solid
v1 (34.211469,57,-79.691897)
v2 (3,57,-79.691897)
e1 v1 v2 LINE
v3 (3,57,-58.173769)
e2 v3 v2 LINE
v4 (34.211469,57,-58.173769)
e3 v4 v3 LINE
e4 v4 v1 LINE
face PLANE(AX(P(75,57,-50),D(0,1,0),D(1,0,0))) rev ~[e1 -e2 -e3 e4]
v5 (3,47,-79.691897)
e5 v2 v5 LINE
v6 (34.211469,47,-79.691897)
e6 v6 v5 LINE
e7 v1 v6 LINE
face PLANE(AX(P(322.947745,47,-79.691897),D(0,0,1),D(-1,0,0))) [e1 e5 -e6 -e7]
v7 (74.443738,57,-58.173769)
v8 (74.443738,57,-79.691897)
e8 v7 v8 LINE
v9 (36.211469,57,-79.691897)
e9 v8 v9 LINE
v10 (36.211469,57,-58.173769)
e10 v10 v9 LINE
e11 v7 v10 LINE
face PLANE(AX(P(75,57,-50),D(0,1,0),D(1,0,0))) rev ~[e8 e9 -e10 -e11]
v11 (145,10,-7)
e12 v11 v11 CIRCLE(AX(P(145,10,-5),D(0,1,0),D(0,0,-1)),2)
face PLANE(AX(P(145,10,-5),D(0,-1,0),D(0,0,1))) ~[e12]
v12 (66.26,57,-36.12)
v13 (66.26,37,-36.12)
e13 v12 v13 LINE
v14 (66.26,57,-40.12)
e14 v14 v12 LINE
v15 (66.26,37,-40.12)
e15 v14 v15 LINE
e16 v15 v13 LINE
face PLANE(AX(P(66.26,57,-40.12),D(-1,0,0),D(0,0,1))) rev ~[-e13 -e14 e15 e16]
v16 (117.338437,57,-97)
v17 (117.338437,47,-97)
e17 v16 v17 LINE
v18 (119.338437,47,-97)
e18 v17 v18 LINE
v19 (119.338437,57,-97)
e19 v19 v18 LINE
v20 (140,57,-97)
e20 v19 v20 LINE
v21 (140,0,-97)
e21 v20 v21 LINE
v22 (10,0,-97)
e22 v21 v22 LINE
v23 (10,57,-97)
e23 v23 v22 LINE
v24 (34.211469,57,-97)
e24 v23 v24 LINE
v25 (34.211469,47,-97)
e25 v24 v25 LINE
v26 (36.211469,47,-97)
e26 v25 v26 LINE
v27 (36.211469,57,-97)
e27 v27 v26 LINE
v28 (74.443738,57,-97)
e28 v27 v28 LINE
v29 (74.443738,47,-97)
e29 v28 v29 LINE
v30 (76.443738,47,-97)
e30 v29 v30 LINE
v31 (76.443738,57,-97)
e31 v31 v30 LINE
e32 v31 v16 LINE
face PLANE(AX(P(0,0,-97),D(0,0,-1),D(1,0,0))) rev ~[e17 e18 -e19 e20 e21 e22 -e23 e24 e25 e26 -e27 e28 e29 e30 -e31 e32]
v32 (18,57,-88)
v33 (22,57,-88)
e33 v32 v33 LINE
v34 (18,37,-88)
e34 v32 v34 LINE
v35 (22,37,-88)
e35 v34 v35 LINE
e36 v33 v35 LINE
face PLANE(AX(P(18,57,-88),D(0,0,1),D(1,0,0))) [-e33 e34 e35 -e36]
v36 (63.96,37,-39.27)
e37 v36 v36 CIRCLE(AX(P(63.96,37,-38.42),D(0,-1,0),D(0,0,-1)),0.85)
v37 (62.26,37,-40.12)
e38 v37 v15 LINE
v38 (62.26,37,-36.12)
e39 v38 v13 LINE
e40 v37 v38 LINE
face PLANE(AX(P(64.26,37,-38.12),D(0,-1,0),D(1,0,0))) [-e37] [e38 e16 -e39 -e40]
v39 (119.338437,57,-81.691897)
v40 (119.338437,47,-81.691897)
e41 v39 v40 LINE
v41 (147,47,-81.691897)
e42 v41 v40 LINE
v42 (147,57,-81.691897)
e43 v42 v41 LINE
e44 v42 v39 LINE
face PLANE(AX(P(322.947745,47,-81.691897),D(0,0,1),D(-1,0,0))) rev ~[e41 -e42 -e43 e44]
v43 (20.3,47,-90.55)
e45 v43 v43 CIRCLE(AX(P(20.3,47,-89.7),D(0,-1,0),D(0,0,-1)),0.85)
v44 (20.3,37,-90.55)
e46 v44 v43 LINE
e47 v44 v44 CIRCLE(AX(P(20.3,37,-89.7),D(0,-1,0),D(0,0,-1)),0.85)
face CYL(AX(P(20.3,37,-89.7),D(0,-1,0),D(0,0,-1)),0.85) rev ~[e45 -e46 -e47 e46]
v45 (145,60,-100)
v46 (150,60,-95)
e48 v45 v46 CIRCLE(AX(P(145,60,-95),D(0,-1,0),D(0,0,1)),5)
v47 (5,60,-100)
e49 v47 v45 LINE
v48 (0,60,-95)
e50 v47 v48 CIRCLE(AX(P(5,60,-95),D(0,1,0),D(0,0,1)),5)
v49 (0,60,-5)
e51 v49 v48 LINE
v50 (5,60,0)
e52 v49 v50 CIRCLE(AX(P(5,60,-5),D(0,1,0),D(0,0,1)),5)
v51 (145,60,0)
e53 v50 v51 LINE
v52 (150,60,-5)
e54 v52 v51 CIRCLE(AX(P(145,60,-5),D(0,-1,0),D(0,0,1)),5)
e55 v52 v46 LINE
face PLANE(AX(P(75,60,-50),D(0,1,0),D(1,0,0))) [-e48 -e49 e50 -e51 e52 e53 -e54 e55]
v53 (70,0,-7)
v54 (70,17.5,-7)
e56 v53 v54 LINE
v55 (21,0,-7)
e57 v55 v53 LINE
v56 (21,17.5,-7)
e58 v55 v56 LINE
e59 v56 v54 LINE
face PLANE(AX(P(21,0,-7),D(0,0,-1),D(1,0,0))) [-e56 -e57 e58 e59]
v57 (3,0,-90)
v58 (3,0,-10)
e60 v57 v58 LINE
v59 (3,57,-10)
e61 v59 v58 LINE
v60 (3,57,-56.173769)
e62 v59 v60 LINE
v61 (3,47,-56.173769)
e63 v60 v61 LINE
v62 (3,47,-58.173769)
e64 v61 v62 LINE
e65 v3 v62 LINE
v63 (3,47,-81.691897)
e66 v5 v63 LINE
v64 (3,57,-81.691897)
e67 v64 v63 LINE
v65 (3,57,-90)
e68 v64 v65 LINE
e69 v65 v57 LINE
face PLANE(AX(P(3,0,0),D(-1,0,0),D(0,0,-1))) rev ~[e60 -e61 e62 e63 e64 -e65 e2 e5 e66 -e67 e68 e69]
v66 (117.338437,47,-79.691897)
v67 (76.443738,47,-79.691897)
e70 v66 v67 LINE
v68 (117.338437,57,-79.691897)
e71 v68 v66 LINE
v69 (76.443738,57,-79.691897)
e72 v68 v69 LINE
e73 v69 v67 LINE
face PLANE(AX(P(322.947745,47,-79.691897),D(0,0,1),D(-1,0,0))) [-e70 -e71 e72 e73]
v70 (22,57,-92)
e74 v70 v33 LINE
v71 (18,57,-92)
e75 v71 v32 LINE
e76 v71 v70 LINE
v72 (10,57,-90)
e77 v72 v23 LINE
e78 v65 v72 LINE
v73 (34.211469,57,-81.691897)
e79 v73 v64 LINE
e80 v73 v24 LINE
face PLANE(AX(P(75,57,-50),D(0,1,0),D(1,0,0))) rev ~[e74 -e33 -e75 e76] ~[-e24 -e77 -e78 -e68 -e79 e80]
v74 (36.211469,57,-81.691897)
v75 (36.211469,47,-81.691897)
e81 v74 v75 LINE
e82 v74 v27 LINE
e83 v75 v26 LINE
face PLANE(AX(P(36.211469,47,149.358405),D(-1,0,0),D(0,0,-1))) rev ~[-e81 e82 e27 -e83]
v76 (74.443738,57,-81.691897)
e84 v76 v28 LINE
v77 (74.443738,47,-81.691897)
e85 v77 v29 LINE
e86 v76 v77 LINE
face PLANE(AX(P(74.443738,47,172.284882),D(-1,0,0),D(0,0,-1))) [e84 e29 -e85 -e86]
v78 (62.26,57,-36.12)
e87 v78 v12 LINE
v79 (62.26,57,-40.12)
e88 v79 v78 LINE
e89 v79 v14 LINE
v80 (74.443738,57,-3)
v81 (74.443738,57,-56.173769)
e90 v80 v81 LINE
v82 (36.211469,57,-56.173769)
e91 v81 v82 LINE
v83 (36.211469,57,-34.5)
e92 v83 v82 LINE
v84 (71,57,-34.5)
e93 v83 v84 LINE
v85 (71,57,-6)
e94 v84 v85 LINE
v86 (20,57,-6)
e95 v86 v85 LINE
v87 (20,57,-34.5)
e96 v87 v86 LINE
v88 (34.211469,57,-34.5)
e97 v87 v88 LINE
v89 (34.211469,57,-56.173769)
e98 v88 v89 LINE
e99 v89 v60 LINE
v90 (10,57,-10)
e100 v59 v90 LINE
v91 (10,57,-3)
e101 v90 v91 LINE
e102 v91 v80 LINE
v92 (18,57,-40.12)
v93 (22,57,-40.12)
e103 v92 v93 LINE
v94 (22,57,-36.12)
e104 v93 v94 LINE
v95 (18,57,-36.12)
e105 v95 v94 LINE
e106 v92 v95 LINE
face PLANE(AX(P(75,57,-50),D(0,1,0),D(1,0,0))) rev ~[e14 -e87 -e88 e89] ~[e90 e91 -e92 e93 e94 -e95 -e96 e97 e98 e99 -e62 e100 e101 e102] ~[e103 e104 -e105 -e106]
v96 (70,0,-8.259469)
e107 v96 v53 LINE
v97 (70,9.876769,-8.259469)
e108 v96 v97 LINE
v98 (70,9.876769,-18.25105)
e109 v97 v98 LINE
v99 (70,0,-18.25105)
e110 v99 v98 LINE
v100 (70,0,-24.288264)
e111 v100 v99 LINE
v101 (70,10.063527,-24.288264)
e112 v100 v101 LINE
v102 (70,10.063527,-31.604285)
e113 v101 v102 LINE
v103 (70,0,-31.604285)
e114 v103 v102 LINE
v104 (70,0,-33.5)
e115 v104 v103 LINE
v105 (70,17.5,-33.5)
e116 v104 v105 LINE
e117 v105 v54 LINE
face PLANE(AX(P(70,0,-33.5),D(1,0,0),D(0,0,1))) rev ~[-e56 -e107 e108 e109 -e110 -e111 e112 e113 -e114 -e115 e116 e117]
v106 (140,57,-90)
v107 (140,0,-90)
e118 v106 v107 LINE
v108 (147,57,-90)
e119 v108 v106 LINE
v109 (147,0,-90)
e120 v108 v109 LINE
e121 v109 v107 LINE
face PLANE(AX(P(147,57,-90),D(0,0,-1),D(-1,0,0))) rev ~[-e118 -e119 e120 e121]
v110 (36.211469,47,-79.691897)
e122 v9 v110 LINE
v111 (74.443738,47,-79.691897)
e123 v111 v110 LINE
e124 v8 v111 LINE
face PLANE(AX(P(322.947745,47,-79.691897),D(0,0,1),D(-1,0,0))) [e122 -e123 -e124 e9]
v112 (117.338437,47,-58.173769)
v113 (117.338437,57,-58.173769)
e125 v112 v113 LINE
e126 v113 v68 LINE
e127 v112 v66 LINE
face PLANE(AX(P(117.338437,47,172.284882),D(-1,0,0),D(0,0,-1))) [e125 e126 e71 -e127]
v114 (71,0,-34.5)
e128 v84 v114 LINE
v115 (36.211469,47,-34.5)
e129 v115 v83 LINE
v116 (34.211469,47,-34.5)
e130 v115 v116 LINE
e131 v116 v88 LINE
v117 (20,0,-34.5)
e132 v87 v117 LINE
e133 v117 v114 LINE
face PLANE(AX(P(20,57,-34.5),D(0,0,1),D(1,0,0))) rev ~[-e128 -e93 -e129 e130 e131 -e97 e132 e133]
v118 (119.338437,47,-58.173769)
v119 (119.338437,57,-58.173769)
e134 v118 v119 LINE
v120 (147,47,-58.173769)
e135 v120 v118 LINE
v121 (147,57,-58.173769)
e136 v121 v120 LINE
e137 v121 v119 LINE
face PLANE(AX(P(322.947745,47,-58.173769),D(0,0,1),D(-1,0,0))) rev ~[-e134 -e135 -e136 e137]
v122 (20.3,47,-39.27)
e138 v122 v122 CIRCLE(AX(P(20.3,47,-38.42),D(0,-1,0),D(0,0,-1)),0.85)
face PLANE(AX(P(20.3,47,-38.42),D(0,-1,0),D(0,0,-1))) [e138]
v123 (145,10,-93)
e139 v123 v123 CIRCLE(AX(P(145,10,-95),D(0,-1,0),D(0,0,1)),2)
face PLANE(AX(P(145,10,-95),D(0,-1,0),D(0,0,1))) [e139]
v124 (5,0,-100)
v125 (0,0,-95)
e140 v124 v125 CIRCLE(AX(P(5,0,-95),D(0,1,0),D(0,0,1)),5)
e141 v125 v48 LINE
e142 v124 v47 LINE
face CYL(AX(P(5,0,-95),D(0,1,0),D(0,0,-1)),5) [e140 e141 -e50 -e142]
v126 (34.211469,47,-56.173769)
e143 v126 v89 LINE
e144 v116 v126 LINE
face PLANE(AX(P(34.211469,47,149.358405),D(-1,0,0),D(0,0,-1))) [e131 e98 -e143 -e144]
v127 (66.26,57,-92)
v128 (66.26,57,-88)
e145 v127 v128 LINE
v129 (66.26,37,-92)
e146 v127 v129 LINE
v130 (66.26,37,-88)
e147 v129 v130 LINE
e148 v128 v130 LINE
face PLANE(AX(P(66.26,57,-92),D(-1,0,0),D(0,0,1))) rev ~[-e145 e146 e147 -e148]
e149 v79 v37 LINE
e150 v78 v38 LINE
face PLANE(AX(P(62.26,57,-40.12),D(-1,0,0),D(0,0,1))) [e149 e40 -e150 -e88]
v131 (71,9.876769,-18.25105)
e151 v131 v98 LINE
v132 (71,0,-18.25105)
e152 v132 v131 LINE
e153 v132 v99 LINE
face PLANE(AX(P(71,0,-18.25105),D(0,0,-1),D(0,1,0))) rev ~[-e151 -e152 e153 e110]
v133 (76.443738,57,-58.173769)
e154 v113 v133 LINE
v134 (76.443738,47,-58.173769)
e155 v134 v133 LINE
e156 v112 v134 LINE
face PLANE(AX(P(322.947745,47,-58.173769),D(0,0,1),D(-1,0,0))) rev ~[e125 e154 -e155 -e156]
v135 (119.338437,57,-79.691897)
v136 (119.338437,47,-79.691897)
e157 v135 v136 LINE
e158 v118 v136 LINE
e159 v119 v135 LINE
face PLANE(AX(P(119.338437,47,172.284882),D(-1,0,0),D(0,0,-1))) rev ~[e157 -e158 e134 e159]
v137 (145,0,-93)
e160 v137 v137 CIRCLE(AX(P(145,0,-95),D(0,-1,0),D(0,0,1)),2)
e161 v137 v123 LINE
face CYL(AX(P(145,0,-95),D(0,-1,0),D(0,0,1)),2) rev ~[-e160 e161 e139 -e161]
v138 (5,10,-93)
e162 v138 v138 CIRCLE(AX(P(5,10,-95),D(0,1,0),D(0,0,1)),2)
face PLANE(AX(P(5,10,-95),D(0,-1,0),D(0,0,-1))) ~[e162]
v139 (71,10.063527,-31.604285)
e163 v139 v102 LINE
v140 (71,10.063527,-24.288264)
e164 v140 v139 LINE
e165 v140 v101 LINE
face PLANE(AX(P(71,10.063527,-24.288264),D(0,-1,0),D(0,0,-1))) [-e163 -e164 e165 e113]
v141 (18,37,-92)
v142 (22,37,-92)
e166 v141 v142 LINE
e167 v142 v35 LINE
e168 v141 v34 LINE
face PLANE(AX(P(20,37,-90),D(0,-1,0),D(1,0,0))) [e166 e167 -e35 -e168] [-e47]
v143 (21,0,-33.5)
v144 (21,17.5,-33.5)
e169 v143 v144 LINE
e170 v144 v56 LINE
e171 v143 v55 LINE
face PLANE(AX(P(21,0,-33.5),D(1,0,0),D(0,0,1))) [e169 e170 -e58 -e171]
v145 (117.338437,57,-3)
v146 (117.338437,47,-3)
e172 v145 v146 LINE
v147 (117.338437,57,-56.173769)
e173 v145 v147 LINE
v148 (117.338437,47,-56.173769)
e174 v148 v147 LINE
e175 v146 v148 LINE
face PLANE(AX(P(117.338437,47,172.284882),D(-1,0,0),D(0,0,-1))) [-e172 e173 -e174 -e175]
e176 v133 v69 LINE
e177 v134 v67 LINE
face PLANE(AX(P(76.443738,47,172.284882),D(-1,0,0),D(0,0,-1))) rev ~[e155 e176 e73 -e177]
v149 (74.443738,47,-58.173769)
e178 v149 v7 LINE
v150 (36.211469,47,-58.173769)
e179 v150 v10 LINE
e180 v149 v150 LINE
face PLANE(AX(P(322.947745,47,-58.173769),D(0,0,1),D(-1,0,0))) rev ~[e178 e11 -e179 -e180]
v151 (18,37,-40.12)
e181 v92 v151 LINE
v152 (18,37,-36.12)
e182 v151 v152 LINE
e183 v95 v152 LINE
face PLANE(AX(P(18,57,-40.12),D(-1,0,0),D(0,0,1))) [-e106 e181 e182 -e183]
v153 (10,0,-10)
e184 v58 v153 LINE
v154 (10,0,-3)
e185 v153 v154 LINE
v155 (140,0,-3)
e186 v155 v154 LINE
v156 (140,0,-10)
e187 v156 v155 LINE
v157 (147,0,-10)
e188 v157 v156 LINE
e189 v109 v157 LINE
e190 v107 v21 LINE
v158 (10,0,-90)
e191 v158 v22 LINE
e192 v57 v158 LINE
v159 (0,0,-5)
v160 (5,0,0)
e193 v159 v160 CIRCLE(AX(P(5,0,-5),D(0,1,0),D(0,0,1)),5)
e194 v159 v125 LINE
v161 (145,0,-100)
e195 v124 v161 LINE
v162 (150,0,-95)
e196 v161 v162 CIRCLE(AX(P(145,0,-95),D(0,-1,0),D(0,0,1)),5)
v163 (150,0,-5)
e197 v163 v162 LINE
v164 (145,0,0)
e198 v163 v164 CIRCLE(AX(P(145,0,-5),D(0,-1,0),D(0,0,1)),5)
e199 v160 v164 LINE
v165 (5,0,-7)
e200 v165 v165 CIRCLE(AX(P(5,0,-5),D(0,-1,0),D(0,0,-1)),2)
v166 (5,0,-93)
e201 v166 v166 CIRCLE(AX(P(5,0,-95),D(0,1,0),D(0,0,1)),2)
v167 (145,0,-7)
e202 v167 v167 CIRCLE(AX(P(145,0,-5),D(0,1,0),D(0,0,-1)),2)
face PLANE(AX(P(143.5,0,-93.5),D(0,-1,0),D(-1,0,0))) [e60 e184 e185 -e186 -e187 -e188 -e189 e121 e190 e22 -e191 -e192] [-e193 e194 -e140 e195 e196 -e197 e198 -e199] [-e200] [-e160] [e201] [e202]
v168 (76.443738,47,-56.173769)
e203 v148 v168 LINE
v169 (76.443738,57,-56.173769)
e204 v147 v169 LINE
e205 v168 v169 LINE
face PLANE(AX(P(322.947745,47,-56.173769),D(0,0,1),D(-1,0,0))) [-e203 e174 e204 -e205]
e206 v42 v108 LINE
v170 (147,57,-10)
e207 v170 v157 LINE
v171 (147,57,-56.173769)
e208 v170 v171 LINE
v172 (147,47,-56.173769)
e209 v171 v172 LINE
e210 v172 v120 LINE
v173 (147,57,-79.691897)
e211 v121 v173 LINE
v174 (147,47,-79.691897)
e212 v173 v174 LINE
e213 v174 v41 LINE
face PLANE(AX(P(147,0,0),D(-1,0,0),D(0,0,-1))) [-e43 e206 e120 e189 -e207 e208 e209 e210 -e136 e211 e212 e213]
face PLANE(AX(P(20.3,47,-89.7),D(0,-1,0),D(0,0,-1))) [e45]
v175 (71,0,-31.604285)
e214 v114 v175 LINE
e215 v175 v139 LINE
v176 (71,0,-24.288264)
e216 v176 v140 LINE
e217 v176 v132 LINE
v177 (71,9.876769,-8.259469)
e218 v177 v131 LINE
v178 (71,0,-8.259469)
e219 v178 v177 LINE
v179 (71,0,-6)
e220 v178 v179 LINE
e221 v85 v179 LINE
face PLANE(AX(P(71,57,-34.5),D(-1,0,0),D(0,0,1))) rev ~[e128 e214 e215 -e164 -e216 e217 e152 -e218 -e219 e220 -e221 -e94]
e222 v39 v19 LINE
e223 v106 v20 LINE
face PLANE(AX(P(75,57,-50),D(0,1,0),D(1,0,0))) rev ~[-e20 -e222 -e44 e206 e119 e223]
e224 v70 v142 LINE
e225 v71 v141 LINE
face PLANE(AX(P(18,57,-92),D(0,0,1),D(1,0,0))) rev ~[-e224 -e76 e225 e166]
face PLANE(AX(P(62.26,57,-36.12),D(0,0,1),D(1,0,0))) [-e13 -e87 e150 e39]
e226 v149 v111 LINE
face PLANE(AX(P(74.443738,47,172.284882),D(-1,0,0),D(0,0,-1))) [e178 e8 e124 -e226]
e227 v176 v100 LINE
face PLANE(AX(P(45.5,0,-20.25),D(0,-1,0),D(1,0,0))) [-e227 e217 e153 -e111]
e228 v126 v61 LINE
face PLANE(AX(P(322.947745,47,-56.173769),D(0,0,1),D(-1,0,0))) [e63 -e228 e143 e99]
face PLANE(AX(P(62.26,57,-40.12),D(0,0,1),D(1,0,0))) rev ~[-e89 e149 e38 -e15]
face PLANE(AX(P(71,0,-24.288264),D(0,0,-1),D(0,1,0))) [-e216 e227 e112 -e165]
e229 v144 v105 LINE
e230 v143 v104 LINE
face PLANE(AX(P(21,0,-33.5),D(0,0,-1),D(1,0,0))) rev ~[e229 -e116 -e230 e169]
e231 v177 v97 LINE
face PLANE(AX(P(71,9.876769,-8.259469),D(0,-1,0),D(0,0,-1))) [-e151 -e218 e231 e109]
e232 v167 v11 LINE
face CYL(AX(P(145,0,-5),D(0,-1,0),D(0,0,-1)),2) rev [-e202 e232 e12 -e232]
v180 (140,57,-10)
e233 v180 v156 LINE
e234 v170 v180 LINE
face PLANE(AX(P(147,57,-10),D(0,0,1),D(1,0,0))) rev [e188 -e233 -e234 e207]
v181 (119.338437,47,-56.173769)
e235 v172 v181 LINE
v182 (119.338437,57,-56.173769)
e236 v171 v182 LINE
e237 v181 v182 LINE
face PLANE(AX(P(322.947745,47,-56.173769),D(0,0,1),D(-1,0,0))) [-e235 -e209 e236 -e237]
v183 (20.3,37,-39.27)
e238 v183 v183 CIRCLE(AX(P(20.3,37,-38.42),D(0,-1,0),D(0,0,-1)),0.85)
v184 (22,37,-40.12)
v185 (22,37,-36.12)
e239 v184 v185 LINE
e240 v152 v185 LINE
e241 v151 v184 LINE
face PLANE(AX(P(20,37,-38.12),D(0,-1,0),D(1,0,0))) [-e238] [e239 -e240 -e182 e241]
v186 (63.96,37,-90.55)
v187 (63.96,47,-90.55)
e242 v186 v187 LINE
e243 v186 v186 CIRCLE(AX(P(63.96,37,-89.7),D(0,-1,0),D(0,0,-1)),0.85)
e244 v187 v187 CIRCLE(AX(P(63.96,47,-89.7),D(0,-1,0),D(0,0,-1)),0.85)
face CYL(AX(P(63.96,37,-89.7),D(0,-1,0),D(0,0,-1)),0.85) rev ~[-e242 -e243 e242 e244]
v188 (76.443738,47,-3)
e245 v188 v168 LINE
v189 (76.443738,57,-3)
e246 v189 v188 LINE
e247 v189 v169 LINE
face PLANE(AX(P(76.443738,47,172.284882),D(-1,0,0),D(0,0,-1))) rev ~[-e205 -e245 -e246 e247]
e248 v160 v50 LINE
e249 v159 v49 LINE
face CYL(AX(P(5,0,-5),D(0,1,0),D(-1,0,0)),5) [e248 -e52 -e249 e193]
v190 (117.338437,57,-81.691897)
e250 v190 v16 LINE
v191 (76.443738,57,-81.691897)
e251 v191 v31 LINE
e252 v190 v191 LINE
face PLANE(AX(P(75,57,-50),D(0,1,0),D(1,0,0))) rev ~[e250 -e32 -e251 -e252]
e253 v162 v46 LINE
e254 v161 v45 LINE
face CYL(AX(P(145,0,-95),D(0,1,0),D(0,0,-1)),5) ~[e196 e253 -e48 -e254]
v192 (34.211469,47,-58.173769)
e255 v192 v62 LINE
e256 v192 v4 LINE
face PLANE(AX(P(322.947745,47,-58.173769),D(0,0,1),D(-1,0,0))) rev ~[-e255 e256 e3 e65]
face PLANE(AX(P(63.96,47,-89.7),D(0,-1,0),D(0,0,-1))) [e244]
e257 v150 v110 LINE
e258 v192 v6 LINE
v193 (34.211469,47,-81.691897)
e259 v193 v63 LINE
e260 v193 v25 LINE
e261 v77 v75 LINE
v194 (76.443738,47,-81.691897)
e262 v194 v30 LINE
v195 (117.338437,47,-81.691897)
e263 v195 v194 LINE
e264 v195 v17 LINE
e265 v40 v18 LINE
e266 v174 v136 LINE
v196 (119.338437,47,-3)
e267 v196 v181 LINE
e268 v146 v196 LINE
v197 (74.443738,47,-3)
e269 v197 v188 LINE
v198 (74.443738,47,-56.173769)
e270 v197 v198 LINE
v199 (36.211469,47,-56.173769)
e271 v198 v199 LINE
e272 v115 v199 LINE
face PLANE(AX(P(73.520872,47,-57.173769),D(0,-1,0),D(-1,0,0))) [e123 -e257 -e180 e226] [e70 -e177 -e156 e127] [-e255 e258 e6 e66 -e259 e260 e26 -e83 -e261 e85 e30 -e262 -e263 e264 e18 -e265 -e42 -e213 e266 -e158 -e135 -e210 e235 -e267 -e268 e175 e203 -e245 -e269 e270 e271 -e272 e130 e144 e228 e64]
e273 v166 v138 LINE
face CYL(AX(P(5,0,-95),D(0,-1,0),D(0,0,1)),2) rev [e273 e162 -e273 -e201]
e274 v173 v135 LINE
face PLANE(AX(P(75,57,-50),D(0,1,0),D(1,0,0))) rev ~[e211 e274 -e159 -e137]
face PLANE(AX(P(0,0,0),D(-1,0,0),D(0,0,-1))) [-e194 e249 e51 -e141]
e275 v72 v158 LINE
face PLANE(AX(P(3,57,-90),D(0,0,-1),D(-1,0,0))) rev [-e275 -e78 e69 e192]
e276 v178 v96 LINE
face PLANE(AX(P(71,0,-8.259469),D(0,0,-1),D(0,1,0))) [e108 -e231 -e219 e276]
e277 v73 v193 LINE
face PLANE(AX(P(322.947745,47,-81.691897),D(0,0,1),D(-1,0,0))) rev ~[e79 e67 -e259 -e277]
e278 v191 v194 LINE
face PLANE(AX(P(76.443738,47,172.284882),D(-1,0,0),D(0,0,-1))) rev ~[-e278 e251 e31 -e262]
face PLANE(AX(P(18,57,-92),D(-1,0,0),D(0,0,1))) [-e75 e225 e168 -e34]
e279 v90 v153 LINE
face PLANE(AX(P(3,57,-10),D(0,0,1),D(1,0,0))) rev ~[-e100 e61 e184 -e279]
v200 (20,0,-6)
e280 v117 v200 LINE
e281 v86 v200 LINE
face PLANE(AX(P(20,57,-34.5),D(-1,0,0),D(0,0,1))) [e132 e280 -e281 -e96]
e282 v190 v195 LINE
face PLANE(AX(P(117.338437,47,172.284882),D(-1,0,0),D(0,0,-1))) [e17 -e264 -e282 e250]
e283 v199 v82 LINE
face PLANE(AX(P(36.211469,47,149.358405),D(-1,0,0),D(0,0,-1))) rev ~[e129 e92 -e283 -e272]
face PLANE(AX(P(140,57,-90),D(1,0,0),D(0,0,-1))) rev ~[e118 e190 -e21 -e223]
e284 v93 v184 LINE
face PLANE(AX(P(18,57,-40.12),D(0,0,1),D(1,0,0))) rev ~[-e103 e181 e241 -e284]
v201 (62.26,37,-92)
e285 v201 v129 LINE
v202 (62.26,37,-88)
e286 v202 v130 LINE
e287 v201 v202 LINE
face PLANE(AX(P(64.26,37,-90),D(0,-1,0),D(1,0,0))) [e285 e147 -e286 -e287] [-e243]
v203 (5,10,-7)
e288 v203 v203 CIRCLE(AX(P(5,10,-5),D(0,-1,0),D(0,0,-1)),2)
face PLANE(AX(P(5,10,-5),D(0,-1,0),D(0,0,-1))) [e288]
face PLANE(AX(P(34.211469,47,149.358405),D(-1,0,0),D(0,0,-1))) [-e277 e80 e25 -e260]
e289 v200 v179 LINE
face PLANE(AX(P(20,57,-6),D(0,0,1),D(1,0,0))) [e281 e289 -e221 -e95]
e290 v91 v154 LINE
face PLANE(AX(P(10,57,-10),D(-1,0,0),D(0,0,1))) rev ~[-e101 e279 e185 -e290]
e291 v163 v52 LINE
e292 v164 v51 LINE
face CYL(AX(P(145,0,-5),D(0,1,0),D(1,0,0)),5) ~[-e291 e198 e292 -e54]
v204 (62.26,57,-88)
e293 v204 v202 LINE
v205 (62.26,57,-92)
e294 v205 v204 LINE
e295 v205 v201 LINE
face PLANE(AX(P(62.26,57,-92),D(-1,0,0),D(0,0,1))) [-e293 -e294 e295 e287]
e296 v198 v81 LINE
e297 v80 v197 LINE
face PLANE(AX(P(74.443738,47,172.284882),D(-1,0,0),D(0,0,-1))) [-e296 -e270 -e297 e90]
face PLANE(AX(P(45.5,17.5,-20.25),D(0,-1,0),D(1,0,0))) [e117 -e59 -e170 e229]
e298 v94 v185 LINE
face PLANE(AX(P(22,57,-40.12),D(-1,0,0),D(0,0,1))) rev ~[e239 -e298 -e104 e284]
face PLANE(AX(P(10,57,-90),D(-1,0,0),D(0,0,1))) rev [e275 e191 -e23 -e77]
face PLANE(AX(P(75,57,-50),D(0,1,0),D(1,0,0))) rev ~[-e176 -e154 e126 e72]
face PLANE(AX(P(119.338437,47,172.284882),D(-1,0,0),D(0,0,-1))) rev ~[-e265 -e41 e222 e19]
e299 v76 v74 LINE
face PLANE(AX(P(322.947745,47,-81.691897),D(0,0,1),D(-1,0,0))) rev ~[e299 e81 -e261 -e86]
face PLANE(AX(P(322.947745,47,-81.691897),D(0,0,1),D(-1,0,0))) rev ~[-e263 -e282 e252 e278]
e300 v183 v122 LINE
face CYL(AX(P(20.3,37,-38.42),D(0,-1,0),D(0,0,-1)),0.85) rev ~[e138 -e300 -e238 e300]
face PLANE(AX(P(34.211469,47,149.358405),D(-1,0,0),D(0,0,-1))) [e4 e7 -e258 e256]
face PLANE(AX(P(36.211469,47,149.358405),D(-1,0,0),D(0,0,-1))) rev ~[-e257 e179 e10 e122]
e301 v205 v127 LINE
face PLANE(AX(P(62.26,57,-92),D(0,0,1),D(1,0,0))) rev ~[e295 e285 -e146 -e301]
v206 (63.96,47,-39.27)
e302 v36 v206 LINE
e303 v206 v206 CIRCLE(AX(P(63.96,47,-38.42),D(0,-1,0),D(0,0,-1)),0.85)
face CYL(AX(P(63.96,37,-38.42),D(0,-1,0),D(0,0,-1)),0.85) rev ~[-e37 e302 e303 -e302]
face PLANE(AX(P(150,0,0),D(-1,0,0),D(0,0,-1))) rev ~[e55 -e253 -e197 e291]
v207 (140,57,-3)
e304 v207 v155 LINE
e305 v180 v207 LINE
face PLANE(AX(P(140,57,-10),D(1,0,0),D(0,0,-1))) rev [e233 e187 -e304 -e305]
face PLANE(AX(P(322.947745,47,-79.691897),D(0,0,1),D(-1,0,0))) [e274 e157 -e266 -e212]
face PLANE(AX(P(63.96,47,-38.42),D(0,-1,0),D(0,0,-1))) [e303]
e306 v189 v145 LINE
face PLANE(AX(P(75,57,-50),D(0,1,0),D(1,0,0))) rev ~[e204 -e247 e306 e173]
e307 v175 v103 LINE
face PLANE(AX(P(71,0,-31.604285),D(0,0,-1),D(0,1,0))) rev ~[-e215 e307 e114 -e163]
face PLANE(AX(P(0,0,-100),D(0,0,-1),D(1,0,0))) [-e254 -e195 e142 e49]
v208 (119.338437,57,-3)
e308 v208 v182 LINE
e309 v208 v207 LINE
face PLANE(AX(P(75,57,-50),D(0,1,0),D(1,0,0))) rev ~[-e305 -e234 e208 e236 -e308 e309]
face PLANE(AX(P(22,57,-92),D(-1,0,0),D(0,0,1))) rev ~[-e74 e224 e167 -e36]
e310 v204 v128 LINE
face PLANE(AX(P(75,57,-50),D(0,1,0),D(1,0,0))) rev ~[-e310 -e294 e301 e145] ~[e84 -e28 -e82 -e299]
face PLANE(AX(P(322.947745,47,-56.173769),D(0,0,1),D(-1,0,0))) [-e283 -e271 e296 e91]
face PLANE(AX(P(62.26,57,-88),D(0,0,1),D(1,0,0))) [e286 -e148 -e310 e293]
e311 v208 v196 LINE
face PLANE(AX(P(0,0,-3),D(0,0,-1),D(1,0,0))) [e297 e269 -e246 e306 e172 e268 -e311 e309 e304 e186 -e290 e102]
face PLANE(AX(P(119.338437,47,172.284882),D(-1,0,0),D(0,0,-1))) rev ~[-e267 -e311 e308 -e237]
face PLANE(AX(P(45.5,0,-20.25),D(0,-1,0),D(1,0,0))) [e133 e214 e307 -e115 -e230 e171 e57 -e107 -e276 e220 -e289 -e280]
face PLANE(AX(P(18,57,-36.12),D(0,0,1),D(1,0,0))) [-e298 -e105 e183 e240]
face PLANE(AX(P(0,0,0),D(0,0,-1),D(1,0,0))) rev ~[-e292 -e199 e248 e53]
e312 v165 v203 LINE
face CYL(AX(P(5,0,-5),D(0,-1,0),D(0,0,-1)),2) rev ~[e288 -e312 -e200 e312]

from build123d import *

# Parameters (mm, degrees)
SKETCH1_W               = 150
SKETCH1_H               = 100
BOSS_EXTRUDE1_DEPTH     = 60
SHELL1_T                = -3
SKETCH2_W               = 4
SKETCH2_H               = 4
BOSS_EXTRUDE2_DEPTH     = 20
SKETCH3_R               = 0.85
CUT_EXTRUDE1_DEPTH      = 10
SKETCH4_W               = 51
SKETCH4_H               = 28.5
BOSS_EXTRUDE3_DEPTH     = 57
SKETCH5_W               = 49
SKETCH5_H               = 26.5
CUT_EXTRUDE2_DEPTH      = 17.5
SKETCH6_W               = 7.316020892
SKETCH6_H               = 10.063527081
SKETCH6_W_2             = 9.991581276
SKETCH6_H_2             = 9.876768552
CUT_EXTRUDE3_DEPTH      = 1
RIB1_REACH              = 188.304
SKETCH7_WALLS_W         = 497.226705155
SKETCH7_WALLS_H         = 2
SKETCH7_WALLS_W_2       = 2
SKETCH7_WALLS_H_2       = 447.528019614
SKETCH7_WALLS_H_3       = 446.492630332
SKETCH7_WALLS_H_4       = 428.743099781
SKETCH7_WALLS_W_3       = 498.853745456
SKETCH8_W               = 7
SKETCH8_H               = 7
BOSS_EXTRUDE4_DEPTH     = 57
MIRROR2_COPY_1_SKETCH_W = 7
MIRROR2_COPY_1_SKETCH_H = 7
MIRROR2_COPY_1_DEPTH    = 57
SKETCH9_R               = 2
CUT_EXTRUDE4_DEPTH      = 10
MIRROR4_COPY_1_SKETCH_R = 2
MIRROR4_COPY_1_DEPTH    = 10
FILLET1_R               = 5


with BuildPart() as part:
    # Sketch1 → Boss-Extrude1 (new body)
    with BuildSketch(Plane(origin=(0, 0, 0), x_dir=(1, 0, 0), z_dir=(0, 1, 0))):
        with Locations((75, 50)):
            Rectangle(SKETCH1_W, SKETCH1_H)
    extrude(amount=BOSS_EXTRUDE1_DEPTH)

    # Shell1
    shell1_openings = [part.faces().sort_by_distance(p)[0] for p in [
        (75, 0, -50),
    ]]
    offset(amount=SHELL1_T, openings=shell1_openings, kind=Kind.INTERSECTION)

    # Sketch2 → Boss-Extrude2 (add)
    with BuildSketch(Plane.XZ.offset(-57)):
        with Locations((20, -90)):
            Rectangle(SKETCH2_W, SKETCH2_H)
        with Locations((64.26, -90)):
            Rectangle(SKETCH2_W, SKETCH2_H)
        with Locations((20, -38.12)):
            Rectangle(SKETCH2_W, SKETCH2_H)
        with Locations((64.26, -38.12)):
            Rectangle(SKETCH2_W, SKETCH2_H)
    extrude(amount=BOSS_EXTRUDE2_DEPTH)

    # Sketch3 → Cut-Extrude1 (cut)
    with BuildSketch(Plane.XZ.offset(-37)):
        with Locations(Location((20.3, -89.7, 0), (0, 0, 270))):
            Circle(SKETCH3_R)
        with Locations(Location((20.3, -38.42, 0), (0, 0, 270))):
            Circle(SKETCH3_R)
        with Locations(Location((63.96, -38.42, 0), (0, 0, 270))):
            Circle(SKETCH3_R)
        with Locations(Location((63.96, -89.7, 0), (0, 0, 270))):
            Circle(SKETCH3_R)
    extrude(amount=-CUT_EXTRUDE1_DEPTH, mode=Mode.SUBTRACT)

    # Sketch4 → Boss-Extrude3 (add)
    with BuildSketch(Plane.XZ.offset(-57)):
        with Locations((45.5, -20.25)):
            Rectangle(SKETCH4_W, SKETCH4_H)
    extrude(amount=BOSS_EXTRUDE3_DEPTH)

    # Sketch5 → Cut-Extrude2 (cut)
    with BuildSketch(Plane.XZ):
        with Locations((45.5, -20.25)):
            Rectangle(SKETCH5_W, SKETCH5_H)
    extrude(amount=-CUT_EXTRUDE2_DEPTH, mode=Mode.SUBTRACT)

    # Sketch6 → Cut-Extrude3 (cut)
    with BuildSketch(Plane(origin=(71, 0, 0), x_dir=(0, 0, -1), z_dir=(1, 0, 0))):
        with Locations((27.946274495, 5.031763541)):
            Rectangle(SKETCH6_W, SKETCH6_H)
        with Locations((13.255259514, 4.938384276)):
            Rectangle(SKETCH6_W_2, SKETCH6_H_2)
    extrude(amount=-CUT_EXTRUDE3_DEPTH, mode=Mode.SUBTRACT)

    # Sketch7 walls → Rib1 (add, up to next)
    with BuildSketch(Plane(origin=(0, 47, 0), x_dir=(-1, 0, 0), z_dir=(0, -1, 0)), mode=Mode.PRIVATE) as rib1_sk1:
        with Locations((-74.334392604, 80.691896577)):
            Rectangle(SKETCH7_WALLS_W, SKETCH7_WALLS_H)
    rib1_tool1 = extrude(rib1_sk1.sketch, amount=-RIB1_REACH, mode=Mode.PRIVATE) - part.part
    # Sketch7 walls → Rib1 (add, up to next)
    with BuildSketch(Plane(origin=(0, 47, 0), x_dir=(-1, 0, 0), z_dir=(0, -1, 0)), mode=Mode.PRIVATE) as rib1_sk2:
        with Locations((-75.443738264, 51.479127546)):
            Rectangle(SKETCH7_WALLS_W_2, SKETCH7_WALLS_H_2)
    rib1_tool2 = extrude(rib1_sk2.sketch, amount=-RIB1_REACH, mode=Mode.PRIVATE) - part.part
    # Sketch7 walls → Rib1 (add, up to next)
    with BuildSketch(Plane(origin=(0, 47, 0), x_dir=(-1, 0, 0), z_dir=(0, -1, 0)), mode=Mode.PRIVATE) as rib1_sk3:
        with Locations((-118.338437094, 50.961432905)):
            Rectangle(SKETCH7_WALLS_W_2, SKETCH7_WALLS_H_3)
    rib1_tool3 = extrude(rib1_sk3.sketch, amount=-RIB1_REACH, mode=Mode.PRIVATE) - part.part
    # Sketch7 walls → Rib1 (add, up to next)
    with BuildSketch(Plane(origin=(0, 47, 0), x_dir=(-1, 0, 0), z_dir=(0, -1, 0)), mode=Mode.PRIVATE) as rib1_sk4:
        with Locations((-35.211469016, 65.01314459)):
            Rectangle(SKETCH7_WALLS_W_2, SKETCH7_WALLS_H_4)
    rib1_tool4 = extrude(rib1_sk4.sketch, amount=-RIB1_REACH, mode=Mode.PRIVATE) - part.part
    # Sketch7 walls → Rib1 (add, up to next)
    with BuildSketch(Plane(origin=(0, 47, 0), x_dir=(-1, 0, 0), z_dir=(0, -1, 0)), mode=Mode.PRIVATE) as rib1_sk5:
        with Locations((-73.520872454, 57.173768597)):
            Rectangle(SKETCH7_WALLS_W_3, SKETCH7_WALLS_H)
    rib1_tool5 = extrude(rib1_sk5.sketch, amount=-RIB1_REACH, mode=Mode.PRIVATE) - part.part
    add(rib1_tool1.solids().sort_by_distance((74.334392604, 47, -80.691896577))[0])
    add(rib1_tool2.solids().sort_by_distance((75.443738264, 47, -51.479127546))[0])
    add(rib1_tool3.solids().sort_by_distance((118.338437094, 47, -50.961432905))[0])
    add(rib1_tool4.solids().sort_by_distance((35.211469016, 47, -65.01314459))[0])
    add(rib1_tool5.solids().sort_by_distance((73.520872454, 47, -57.173768597))[0])

    # Sketch8 → Boss-Extrude4 (add)
    with BuildSketch(Plane.XZ.offset(-57)):
        with Locations((6.5, -6.5)):
            Rectangle(SKETCH8_W, SKETCH8_H)
    boss_extrude4 = extrude(amount=BOSS_EXTRUDE4_DEPTH)

    # Mirror1: Boss-Extrude4 across plane
    add(boss_extrude4.mirror(Plane.XY.offset(-50)))

    # Mirror2: Boss-Extrude4 across plane
    add(boss_extrude4.mirror(Plane.ZY.offset(-75)))

    # Mirror2 copy 1 sketch → Mirror2 copy 1 (add)
    with BuildSketch(Plane(origin=(150, 57, -100), x_dir=(-1, 0, 0), z_dir=(0, -1, 0))):
        with Locations((6.5, -6.5)):
            Rectangle(MIRROR2_COPY_1_SKETCH_W, MIRROR2_COPY_1_SKETCH_H)
    extrude(amount=MIRROR2_COPY_1_DEPTH)

    # Sketch9 → Cut-Extrude4 (cut)
    with BuildSketch(Plane.XZ):
        with Locations(Location((5, -5, 0), (0, 0, 270))):
            Circle(SKETCH9_R)
    cut_extrude4 = extrude(amount=-CUT_EXTRUDE4_DEPTH, mode=Mode.SUBTRACT)

    # Mirror3: Cut-Extrude4 across plane
    add(cut_extrude4.mirror(Plane.XY.offset(-50)), mode=Mode.SUBTRACT)

    # Mirror4: Cut-Extrude4 across plane
    add(cut_extrude4.mirror(Plane.ZY.offset(-75)), mode=Mode.SUBTRACT)

    # Mirror4 copy 1 sketch → Mirror4 copy 1 (cut)
    with BuildSketch(Plane(origin=(150, 0, -100), x_dir=(-1, 0, 0), z_dir=(0, -1, 0))):
        with Locations(Location((5, -5, 0), (0, 0, 270))):
            Circle(MIRROR4_COPY_1_SKETCH_R)
    extrude(amount=-MIRROR4_COPY_1_DEPTH, mode=Mode.SUBTRACT)

    # Fillet1
    fillet1_edges = [part.edges().sort_by_distance(p)[0] for p in [
        (0, 30, -100),
        (150, 30, -100),
        (150, 30, 0),
        (0, 30, 0),
    ]]
    fillet(fillet1_edges, radius=FILLET1_R)


solid = part.part
